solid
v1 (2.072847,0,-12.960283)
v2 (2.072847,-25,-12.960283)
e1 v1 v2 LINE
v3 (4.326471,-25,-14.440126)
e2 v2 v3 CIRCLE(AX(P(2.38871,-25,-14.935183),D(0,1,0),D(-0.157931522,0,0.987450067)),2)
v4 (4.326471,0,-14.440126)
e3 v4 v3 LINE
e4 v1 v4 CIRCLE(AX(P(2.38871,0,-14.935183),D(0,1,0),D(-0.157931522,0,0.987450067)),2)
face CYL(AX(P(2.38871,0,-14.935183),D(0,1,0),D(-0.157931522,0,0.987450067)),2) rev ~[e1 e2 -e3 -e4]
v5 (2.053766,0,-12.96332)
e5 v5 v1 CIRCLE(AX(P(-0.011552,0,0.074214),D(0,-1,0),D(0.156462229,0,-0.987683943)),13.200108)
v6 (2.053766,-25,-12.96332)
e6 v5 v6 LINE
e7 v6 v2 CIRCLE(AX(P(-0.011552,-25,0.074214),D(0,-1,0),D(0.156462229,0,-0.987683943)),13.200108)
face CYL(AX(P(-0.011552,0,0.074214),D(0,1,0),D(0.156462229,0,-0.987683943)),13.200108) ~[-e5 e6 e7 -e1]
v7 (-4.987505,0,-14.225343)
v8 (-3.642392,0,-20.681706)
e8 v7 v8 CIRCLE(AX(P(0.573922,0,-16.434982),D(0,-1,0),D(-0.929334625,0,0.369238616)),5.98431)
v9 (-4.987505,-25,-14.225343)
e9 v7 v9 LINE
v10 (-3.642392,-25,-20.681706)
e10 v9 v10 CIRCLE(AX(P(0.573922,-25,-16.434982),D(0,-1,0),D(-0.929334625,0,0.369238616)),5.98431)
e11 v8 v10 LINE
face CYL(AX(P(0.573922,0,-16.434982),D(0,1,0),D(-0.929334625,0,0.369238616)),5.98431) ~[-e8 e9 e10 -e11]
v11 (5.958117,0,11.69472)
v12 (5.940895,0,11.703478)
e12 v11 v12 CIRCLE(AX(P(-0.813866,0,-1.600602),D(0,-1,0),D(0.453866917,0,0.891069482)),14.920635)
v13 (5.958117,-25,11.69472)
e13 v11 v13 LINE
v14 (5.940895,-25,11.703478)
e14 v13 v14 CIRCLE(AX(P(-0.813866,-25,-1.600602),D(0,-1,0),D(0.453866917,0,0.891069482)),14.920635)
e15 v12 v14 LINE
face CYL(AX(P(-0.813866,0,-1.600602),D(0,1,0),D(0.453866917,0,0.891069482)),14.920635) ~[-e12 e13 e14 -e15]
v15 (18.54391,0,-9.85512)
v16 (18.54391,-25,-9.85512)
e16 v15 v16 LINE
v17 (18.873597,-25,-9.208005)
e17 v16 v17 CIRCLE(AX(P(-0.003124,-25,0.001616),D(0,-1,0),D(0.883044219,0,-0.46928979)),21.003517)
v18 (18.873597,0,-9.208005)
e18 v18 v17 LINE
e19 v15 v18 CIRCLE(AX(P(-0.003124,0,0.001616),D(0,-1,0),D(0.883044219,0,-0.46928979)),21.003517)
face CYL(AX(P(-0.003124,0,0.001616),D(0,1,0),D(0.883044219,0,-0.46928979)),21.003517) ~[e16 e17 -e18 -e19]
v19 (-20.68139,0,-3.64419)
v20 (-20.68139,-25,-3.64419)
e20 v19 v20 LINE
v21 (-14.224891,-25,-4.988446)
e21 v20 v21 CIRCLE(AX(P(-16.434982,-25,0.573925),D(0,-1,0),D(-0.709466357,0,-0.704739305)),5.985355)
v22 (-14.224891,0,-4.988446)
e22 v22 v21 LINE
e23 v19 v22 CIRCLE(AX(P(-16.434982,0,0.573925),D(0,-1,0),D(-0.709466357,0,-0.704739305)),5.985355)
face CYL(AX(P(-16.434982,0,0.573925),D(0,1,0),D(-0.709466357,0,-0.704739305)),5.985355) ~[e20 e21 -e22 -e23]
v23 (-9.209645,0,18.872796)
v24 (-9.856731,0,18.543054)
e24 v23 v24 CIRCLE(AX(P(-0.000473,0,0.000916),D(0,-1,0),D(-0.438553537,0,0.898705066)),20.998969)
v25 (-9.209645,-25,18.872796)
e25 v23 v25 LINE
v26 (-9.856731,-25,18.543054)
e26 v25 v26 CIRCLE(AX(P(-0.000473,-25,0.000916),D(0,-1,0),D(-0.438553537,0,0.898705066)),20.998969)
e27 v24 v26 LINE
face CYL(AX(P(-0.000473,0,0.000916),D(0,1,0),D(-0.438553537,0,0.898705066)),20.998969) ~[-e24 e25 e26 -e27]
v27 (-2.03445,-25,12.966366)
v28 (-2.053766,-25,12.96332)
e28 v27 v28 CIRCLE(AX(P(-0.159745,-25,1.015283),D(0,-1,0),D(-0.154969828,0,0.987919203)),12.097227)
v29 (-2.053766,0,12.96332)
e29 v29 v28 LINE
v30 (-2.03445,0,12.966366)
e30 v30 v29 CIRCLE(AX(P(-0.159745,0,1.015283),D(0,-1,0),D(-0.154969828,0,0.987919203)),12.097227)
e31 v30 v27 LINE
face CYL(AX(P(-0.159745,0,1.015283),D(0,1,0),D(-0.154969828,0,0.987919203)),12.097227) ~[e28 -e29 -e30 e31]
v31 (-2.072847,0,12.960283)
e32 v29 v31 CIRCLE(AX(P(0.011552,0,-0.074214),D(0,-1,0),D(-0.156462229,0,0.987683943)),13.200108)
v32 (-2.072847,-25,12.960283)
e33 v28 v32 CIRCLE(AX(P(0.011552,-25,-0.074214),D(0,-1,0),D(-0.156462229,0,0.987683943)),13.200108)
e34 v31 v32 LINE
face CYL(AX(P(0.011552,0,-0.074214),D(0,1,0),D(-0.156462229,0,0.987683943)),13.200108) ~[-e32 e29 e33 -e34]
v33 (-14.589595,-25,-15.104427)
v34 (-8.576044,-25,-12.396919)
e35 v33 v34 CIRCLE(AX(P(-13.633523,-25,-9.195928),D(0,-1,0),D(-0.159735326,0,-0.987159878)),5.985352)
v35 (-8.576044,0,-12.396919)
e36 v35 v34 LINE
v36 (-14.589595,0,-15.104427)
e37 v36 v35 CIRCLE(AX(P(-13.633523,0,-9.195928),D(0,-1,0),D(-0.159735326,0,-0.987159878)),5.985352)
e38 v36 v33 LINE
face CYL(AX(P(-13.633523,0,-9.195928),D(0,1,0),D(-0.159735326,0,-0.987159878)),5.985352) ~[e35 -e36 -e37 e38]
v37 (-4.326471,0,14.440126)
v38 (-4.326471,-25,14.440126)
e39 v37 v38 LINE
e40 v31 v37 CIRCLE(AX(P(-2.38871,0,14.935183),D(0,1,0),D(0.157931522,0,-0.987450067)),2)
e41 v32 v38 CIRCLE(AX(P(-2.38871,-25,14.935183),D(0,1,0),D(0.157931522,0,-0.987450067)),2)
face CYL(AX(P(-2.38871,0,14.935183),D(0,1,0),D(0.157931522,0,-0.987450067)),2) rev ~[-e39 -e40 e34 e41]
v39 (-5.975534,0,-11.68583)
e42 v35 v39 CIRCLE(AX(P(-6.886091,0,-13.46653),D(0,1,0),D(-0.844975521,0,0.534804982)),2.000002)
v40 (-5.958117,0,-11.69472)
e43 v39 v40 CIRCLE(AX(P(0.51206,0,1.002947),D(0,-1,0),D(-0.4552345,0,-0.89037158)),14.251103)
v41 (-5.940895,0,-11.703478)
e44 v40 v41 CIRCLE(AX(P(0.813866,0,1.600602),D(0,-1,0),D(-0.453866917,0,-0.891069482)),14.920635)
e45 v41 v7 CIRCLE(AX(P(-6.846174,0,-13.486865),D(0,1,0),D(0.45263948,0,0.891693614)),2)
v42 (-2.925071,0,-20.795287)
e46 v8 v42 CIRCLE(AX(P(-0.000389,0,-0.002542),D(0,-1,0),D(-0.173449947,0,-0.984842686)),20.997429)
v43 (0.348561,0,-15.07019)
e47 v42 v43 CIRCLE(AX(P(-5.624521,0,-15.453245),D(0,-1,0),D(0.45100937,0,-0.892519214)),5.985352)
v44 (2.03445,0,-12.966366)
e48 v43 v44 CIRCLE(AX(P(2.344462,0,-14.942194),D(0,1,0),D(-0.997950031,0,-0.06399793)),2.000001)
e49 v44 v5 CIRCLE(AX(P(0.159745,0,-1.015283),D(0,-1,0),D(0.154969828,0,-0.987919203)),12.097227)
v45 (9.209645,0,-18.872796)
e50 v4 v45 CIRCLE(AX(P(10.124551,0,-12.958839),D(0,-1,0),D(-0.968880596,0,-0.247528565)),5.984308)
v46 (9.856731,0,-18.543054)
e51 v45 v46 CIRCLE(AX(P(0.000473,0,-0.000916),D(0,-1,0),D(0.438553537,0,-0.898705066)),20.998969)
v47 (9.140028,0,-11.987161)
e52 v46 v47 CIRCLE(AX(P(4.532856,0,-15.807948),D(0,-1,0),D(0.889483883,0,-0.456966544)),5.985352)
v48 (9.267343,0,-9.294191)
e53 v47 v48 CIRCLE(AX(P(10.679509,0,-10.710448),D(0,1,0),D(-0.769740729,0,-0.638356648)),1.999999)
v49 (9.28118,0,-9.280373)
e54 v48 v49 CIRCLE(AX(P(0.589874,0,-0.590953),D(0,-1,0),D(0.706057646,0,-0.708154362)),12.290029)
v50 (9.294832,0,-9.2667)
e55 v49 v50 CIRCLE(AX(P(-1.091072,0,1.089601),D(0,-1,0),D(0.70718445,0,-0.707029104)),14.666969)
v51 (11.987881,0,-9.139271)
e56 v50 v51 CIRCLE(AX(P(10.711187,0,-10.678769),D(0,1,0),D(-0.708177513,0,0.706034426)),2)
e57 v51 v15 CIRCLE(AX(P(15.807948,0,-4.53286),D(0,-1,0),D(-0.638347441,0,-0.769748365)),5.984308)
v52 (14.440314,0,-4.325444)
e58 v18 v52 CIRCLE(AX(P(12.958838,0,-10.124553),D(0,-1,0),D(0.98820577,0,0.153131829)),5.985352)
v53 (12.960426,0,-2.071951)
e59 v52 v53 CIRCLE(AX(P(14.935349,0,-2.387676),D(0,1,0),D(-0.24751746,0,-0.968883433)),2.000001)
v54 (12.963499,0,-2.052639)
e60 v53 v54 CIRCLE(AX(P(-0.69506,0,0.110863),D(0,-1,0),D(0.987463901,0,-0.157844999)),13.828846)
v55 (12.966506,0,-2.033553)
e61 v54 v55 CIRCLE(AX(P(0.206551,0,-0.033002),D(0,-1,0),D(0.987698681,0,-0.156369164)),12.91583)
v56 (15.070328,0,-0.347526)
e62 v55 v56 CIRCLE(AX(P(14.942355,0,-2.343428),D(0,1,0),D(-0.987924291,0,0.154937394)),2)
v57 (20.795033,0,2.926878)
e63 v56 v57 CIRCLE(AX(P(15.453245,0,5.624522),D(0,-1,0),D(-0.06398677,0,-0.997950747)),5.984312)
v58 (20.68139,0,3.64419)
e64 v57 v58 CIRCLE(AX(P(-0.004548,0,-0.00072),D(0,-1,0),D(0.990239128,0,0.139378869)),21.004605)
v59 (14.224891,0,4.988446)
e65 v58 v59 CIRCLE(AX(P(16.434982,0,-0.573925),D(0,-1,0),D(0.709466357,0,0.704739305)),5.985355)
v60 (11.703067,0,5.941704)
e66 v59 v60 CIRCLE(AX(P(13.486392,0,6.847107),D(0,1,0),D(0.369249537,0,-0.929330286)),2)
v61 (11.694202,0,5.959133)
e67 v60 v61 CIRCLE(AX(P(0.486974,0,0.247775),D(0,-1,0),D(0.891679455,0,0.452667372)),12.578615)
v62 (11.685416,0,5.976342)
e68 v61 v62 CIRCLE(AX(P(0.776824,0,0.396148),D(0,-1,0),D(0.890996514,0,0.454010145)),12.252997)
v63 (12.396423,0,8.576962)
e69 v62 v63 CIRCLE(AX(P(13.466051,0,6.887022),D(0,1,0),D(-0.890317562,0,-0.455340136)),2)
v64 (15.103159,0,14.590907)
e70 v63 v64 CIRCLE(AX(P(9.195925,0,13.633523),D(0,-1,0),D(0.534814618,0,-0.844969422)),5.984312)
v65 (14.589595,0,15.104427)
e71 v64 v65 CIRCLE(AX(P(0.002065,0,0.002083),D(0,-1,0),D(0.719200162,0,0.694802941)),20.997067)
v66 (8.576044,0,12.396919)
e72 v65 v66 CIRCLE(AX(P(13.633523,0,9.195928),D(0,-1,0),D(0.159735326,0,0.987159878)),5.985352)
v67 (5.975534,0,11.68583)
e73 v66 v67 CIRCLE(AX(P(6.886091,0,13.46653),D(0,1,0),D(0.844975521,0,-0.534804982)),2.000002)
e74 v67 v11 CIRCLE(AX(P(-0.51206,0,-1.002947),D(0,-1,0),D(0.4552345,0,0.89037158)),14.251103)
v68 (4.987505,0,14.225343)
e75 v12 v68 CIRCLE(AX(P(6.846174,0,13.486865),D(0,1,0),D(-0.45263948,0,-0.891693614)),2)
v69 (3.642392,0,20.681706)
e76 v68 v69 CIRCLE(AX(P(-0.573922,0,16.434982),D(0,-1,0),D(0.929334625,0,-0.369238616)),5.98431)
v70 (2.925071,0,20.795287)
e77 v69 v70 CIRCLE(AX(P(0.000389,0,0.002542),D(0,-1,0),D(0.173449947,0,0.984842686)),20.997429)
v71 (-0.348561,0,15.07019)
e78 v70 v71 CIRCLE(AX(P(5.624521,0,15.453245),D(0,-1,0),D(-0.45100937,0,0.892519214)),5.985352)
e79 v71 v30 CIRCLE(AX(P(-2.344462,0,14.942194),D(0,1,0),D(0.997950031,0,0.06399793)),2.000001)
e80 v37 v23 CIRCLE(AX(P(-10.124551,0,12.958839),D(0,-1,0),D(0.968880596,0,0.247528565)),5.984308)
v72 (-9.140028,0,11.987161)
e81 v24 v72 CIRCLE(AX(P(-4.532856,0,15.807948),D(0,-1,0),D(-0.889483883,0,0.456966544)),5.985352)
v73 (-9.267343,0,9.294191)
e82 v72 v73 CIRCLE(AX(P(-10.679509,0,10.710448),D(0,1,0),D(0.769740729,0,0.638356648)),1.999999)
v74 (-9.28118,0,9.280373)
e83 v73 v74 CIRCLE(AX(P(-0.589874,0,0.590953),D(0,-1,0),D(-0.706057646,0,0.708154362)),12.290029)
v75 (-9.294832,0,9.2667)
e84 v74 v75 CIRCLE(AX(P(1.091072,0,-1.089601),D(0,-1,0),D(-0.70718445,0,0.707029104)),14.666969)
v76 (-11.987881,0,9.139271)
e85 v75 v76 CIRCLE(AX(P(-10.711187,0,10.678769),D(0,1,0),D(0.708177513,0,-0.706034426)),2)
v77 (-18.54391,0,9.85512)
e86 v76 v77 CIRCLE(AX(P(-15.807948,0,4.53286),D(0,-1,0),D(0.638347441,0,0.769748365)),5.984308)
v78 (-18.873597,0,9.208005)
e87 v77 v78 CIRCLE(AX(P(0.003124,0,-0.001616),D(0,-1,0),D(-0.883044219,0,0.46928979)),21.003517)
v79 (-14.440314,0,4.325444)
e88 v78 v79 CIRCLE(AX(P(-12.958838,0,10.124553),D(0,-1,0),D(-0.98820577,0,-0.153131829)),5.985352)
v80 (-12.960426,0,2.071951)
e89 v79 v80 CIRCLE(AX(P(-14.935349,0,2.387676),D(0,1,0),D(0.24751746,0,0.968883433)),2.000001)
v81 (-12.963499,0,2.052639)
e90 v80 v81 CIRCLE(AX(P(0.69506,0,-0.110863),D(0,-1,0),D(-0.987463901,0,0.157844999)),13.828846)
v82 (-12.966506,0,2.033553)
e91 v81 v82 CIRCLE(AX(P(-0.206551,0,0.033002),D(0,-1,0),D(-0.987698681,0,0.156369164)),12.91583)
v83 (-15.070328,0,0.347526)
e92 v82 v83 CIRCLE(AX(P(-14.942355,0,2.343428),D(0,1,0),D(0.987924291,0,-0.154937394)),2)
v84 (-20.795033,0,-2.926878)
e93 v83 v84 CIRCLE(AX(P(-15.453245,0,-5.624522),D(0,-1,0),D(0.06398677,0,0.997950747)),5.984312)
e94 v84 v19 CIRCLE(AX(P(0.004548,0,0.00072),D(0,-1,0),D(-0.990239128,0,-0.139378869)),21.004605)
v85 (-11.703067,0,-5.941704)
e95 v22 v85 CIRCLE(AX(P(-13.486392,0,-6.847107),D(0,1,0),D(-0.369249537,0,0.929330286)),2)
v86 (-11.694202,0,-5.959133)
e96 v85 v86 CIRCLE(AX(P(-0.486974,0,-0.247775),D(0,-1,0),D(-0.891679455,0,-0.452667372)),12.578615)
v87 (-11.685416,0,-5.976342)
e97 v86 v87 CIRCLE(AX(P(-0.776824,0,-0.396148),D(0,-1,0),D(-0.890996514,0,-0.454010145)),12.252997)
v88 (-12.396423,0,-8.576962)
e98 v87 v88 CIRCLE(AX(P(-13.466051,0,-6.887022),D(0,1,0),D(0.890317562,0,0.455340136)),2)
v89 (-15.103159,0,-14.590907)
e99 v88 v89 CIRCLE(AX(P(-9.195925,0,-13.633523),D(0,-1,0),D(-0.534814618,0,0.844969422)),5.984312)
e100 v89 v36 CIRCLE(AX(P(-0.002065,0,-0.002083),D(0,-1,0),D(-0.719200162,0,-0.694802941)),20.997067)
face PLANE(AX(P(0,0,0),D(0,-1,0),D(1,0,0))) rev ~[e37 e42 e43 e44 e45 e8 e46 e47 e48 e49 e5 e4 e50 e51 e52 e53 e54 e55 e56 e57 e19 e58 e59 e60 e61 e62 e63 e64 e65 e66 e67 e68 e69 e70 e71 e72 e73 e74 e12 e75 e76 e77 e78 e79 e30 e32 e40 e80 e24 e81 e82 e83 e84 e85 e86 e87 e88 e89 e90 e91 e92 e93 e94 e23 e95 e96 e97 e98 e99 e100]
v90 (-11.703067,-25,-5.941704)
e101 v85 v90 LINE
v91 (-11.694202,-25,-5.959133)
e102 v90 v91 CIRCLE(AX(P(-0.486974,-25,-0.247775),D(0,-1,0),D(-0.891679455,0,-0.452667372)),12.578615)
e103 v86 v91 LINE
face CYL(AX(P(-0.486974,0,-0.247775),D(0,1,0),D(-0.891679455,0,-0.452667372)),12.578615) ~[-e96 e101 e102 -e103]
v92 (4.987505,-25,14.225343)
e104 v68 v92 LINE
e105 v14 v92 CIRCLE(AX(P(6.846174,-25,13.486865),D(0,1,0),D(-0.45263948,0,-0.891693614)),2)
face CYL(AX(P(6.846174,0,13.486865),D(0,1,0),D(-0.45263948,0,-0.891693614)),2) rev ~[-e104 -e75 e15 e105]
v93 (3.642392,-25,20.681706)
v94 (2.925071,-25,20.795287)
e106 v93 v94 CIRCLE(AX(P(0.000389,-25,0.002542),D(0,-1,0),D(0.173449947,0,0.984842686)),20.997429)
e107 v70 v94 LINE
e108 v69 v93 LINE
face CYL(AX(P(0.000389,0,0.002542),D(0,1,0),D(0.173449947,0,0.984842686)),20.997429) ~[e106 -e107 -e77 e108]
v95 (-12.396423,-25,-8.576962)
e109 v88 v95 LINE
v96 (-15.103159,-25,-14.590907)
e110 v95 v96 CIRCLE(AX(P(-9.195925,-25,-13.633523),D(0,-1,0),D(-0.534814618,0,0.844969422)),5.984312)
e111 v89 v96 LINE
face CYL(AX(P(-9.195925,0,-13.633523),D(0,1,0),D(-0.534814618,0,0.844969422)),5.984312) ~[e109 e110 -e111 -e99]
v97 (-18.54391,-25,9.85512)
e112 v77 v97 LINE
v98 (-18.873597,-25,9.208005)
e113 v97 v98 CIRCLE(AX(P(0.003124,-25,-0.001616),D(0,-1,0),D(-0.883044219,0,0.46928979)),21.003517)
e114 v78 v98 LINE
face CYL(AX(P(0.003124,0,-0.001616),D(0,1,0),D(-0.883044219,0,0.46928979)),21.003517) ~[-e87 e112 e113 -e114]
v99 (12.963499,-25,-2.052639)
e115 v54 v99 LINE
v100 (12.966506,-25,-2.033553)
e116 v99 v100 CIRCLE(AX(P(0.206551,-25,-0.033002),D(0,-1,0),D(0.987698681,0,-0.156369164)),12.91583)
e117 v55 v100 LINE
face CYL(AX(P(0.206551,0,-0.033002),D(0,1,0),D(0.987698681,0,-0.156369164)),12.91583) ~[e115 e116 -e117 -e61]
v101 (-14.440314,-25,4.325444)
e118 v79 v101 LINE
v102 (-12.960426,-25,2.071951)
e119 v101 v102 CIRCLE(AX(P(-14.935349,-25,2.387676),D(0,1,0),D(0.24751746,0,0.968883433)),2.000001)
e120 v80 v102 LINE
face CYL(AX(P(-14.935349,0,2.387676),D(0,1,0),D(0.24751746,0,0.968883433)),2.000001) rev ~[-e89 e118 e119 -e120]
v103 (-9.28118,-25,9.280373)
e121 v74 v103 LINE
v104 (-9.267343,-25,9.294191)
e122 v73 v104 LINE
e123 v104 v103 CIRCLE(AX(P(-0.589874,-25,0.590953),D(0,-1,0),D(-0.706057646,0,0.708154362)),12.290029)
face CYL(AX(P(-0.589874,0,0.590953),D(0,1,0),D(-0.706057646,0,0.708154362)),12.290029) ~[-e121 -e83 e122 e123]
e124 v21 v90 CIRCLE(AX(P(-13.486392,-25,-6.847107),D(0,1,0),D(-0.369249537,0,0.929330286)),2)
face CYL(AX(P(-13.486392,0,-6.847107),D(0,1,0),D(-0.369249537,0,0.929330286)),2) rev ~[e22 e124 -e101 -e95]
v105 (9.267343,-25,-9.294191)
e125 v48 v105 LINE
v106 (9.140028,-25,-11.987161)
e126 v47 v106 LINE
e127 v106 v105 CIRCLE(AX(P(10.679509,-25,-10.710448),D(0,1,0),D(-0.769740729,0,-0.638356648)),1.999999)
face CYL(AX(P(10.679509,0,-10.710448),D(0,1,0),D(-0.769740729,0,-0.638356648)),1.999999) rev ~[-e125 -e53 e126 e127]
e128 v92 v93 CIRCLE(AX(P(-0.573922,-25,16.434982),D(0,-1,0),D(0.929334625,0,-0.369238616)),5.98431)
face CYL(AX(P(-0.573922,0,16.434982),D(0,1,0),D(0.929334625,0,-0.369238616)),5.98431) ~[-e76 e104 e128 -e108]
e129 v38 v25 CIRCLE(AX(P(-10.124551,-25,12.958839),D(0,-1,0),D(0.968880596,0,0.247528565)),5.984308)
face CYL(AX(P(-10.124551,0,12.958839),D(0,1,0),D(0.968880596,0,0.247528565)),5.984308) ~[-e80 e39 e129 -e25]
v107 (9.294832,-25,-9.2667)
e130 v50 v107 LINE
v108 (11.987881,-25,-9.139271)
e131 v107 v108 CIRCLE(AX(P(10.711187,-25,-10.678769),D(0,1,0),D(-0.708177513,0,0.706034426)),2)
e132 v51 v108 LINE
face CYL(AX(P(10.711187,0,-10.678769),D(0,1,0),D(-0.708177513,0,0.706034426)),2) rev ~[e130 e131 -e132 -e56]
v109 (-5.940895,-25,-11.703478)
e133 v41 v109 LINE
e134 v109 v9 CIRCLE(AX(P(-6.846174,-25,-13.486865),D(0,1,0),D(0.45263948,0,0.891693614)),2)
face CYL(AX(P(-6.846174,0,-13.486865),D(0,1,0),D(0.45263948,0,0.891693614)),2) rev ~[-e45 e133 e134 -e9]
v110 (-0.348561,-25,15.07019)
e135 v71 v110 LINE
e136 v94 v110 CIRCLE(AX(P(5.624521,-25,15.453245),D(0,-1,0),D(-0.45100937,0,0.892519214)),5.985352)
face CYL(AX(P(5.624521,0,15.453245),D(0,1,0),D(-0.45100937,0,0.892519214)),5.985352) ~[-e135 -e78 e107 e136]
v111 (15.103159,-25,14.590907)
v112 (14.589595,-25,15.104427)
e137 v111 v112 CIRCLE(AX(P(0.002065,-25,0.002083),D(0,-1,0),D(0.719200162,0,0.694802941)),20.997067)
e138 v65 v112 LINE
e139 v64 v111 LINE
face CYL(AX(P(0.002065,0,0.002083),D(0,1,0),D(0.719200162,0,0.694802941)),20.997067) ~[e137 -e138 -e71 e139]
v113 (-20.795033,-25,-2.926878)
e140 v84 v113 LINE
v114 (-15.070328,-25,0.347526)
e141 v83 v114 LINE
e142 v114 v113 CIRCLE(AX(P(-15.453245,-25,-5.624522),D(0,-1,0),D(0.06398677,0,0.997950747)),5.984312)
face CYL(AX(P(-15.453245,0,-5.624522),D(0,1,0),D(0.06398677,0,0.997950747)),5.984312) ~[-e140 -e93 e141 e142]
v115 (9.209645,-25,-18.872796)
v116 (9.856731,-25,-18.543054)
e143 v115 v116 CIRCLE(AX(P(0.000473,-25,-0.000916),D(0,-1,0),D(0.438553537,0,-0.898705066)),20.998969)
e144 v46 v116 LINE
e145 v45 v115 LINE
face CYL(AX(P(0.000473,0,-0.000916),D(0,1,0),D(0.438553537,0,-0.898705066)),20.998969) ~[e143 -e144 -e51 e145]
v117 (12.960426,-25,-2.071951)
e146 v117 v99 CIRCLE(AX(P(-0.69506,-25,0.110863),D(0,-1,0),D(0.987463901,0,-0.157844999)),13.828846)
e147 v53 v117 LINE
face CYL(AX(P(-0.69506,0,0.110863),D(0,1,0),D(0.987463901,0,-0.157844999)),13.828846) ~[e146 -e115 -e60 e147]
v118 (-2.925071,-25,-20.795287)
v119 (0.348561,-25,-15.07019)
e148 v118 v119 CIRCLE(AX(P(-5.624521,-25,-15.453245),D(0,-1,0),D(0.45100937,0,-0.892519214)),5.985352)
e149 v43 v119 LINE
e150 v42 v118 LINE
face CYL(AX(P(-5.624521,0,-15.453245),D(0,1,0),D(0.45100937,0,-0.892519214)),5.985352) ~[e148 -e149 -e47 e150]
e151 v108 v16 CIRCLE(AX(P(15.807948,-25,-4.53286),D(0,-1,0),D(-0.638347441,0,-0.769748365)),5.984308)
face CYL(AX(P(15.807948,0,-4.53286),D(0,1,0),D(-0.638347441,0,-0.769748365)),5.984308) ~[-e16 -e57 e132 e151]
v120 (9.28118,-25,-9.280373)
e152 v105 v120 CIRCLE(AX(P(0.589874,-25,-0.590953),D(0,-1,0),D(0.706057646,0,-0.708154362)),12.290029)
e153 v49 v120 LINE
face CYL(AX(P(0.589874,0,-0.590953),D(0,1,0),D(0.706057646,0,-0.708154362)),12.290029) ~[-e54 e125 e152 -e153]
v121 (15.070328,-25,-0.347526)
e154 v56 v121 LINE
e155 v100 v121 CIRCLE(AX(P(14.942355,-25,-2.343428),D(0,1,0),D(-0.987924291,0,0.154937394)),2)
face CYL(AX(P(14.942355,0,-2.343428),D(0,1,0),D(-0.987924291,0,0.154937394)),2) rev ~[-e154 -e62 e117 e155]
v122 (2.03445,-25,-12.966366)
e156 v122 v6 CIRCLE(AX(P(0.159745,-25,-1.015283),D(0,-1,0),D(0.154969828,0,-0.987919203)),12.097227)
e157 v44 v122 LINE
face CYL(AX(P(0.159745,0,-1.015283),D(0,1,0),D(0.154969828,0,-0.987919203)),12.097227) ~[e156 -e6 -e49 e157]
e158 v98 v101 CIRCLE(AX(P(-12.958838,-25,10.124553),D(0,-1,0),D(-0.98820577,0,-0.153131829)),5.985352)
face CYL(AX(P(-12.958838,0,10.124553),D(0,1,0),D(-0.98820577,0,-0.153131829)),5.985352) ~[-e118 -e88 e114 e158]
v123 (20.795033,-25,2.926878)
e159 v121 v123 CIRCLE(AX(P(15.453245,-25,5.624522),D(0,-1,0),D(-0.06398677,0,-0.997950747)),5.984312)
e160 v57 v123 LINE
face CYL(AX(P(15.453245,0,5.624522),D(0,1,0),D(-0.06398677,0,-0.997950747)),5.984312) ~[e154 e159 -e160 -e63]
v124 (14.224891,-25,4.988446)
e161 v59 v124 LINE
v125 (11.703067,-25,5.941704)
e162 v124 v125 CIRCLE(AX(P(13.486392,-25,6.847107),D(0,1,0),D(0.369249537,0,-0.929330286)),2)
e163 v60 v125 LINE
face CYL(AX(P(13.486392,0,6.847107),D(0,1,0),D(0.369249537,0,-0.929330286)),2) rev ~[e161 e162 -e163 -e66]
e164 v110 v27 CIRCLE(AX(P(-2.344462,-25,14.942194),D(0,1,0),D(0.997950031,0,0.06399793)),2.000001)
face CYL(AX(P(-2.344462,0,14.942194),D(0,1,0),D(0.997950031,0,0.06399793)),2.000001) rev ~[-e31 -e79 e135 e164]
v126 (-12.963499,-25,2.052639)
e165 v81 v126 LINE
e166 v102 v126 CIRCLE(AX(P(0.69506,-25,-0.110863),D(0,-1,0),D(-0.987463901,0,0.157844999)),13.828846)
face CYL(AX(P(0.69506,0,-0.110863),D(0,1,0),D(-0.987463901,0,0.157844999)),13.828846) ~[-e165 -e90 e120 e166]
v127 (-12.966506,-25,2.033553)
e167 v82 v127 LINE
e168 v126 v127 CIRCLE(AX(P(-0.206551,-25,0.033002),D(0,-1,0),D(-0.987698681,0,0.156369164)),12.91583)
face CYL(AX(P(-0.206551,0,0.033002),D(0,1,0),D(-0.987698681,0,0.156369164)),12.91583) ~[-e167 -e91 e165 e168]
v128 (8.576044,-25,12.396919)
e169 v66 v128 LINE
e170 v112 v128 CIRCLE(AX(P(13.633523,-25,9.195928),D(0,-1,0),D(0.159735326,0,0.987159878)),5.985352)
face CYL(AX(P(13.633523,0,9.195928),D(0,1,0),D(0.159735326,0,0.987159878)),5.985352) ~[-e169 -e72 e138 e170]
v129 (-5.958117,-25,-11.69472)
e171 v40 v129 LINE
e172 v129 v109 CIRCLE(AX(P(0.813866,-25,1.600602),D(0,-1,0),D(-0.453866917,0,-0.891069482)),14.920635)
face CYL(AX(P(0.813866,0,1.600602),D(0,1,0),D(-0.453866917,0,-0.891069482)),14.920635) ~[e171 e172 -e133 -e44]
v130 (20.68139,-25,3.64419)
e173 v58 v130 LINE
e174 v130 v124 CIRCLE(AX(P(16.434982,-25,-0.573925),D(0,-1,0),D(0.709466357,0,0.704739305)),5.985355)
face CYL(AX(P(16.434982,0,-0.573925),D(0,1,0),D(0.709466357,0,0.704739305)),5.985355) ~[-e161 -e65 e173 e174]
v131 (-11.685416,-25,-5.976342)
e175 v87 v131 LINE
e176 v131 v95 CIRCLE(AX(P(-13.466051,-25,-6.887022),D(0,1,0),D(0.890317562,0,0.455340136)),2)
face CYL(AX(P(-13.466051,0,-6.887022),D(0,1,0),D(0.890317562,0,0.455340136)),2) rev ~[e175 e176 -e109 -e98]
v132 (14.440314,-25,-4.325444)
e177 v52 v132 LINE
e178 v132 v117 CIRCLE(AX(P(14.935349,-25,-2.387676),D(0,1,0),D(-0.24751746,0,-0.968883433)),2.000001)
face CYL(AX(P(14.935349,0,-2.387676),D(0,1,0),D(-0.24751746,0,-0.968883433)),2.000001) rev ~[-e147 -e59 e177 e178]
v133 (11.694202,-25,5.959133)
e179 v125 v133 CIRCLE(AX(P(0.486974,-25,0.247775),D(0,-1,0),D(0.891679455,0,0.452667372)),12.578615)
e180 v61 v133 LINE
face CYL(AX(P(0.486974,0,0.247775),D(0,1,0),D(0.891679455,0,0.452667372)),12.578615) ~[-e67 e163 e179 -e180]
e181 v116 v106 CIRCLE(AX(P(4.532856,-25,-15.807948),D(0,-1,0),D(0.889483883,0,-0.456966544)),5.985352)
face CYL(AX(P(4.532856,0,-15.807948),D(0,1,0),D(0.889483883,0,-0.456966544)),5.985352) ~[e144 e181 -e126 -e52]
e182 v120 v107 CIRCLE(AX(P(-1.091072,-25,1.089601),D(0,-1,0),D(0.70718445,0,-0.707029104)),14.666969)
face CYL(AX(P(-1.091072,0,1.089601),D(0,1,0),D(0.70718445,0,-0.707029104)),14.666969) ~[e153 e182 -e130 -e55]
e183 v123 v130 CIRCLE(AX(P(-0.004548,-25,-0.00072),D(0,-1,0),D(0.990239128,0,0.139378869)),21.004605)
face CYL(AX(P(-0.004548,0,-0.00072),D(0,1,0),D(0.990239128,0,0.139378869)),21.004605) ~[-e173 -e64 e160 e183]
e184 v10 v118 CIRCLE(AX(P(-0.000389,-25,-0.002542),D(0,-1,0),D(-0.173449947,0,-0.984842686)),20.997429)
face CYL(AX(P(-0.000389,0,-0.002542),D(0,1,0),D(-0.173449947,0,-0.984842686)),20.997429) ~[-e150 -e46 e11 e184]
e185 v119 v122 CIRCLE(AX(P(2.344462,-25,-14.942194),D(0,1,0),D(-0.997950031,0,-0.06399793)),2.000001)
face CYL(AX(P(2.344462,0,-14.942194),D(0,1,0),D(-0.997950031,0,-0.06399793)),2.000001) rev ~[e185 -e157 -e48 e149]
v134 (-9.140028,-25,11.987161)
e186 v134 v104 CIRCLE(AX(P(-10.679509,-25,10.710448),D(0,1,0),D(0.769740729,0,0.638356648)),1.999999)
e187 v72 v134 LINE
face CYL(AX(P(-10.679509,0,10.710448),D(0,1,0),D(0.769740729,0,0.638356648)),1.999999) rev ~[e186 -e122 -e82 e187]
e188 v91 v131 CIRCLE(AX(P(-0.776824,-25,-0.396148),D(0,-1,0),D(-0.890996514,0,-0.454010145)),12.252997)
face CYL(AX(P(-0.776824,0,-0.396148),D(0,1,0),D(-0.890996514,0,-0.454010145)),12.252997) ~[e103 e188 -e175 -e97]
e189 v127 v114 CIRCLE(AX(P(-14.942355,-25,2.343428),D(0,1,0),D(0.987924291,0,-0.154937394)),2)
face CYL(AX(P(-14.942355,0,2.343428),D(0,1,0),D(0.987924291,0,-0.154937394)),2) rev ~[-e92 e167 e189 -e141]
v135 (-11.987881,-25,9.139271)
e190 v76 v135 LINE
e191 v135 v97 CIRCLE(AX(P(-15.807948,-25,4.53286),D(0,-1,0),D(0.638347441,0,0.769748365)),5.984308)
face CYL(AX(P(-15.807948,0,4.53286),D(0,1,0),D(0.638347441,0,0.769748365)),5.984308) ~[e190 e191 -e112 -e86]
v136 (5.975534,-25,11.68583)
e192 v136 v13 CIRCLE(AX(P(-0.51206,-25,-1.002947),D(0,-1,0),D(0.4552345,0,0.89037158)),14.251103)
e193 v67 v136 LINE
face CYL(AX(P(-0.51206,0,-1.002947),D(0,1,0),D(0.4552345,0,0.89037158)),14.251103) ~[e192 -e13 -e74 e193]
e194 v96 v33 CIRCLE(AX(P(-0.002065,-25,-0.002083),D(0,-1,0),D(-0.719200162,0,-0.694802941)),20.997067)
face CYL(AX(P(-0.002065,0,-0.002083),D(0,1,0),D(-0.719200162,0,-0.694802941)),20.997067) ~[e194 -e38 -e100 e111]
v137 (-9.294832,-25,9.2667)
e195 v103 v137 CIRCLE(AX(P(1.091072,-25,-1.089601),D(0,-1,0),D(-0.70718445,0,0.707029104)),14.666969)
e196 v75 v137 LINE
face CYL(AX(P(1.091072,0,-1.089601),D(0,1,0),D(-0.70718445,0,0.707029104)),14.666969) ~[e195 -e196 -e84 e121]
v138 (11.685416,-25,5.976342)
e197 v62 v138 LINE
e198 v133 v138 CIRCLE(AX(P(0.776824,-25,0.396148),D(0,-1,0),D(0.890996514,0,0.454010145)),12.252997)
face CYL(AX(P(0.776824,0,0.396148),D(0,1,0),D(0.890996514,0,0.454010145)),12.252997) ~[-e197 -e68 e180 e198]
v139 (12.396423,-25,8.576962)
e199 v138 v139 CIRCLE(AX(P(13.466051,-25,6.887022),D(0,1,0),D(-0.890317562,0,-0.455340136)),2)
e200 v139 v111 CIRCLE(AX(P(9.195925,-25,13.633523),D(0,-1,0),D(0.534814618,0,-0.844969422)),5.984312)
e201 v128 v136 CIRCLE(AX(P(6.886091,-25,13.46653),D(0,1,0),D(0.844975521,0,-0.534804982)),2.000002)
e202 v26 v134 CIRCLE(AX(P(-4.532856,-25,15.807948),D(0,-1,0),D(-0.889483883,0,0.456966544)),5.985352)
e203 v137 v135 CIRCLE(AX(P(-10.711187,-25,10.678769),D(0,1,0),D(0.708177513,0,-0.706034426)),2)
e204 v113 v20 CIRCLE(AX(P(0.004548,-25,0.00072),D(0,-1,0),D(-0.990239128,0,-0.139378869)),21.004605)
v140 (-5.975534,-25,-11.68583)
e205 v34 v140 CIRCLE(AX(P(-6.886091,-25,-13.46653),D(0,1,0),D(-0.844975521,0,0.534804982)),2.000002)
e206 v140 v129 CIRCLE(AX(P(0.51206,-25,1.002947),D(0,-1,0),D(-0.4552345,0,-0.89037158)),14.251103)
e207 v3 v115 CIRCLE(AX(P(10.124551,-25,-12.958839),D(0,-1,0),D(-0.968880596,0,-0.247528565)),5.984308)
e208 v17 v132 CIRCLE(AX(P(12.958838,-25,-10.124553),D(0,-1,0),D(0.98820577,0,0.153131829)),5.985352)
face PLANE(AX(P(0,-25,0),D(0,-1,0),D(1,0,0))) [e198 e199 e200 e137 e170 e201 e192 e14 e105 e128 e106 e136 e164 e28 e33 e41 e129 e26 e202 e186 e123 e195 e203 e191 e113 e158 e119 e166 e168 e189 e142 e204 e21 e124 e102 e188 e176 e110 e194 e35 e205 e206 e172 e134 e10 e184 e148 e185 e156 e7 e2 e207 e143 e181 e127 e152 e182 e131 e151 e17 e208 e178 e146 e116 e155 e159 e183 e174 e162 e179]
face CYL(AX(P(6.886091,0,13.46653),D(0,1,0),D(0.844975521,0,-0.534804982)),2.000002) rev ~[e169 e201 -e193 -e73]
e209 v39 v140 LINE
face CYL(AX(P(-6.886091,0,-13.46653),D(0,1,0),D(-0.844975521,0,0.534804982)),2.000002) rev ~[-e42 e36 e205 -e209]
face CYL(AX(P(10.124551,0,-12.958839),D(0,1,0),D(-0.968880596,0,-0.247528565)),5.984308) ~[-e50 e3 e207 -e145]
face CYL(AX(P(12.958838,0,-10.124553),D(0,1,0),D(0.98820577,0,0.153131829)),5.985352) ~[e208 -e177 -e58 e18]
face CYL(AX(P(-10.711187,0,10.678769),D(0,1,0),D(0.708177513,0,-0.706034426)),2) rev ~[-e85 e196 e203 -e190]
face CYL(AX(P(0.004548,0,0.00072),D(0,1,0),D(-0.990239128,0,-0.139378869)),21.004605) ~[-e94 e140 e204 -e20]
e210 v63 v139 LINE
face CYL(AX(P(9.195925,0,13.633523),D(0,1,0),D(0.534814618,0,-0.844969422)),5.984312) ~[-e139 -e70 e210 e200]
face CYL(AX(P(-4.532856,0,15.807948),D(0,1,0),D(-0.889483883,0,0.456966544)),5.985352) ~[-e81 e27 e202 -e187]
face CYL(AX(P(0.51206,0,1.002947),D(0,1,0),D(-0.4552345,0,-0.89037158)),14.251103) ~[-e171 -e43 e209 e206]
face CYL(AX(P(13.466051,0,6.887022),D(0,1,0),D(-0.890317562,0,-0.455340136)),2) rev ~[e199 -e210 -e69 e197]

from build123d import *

# Parameters (mm, degrees)
F1_DEPTH = 25


with BuildPart() as f1:
    # F0 (on Front) → F1 (new body)
    with BuildSketch(Plane.XZ):
        with BuildLine():
            ThreePointArc((-0.348561, 15.07019), (-0.783748, 13.691524), (-2.03445, 12.966366))
            ThreePointArc((-2.03445, 12.966366), (-2.044108, 12.964847), (-2.053766, 12.96332))
            ThreePointArc((-2.053766, 12.96332), (-2.063307, 12.961805), (-2.072847, 12.960283))
            ThreePointArc((-2.072847, 12.960283), (-3.48649, 13.263394), (-4.326471, 14.440126))
            ThreePointArc((-4.326471, 14.440126), (-6.102339, 17.389838), (-9.209645, 18.872796))
            ThreePointArc((-9.209645, 18.872796), (-9.534613, 18.710723), (-9.856731, 18.543054))
            ThreePointArc((-9.856731, 18.543054), (-10.48276, 15.157493), (-9.140028, 11.987161))
            ThreePointArc((-9.140028, 11.987161), (-8.681741, 10.616), (-9.267343, 9.294191))
            ThreePointArc((-9.267343, 9.294191), (-9.274264, 9.287285), (-9.28118, 9.280373))
            ThreePointArc((-9.28118, 9.280373), (-9.288008, 9.273539), (-9.294832, 9.2667))
            ThreePointArc((-9.294832, 9.2667), (-10.616657, 8.681004), (-11.987881, 9.139271))
            ThreePointArc((-11.987881, 9.139271), (-15.158386, 10.48181), (-18.54391, 9.85512))
            ThreePointArc((-18.54391, 9.85512), (-18.711551, 9.532987), (-18.873597, 9.208005))
            ThreePointArc((-18.873597, 9.208005), (-17.390082, 6.101058), (-14.440314, 4.325444))
            ThreePointArc((-14.440314, 4.325444), (-13.263604, 3.485525), (-12.960426, 2.071951))
            ThreePointArc((-12.960426, 2.071951), (-12.961966, 2.062295), (-12.963499, 2.052639))
            ThreePointArc((-12.963499, 2.052639), (-12.965006, 2.043097), (-12.966506, 2.033553))
            ThreePointArc((-12.966506, 2.033553), (-13.691622, 0.782765), (-15.070328, 0.347526))
            ThreePointArc((-15.070328, 0.347526), (-18.424445, -0.429914), (-20.795033, -2.926878))
            ThreePointArc((-20.795033, -2.926878), (-20.741312, -3.286025), (-20.68139, -3.64419))
            ThreePointArc((-20.68139, -3.64419), (-17.654983, -5.285774), (-14.224891, -4.988446))
            ThreePointArc((-14.224891, -4.988446), (-12.779221, -4.976302), (-11.703067, -5.941704))
            ThreePointArc((-11.703067, -5.941704), (-11.698638, -5.95042), (-11.694202, -5.959133))
            ThreePointArc((-11.694202, -5.959133), (-11.689812, -5.96774), (-11.685416, -5.976342))
            ThreePointArc((-11.685416, -5.976342), (-11.536853, -7.414464), (-12.396423, -8.576962))
            ThreePointArc((-12.396423, -8.576962), (-14.652992, -11.177425), (-15.103159, -14.590907))
            ThreePointArc((-15.103159, -14.590907), (-14.848597, -14.849888), (-14.589595, -15.104427))
            ThreePointArc((-14.589595, -15.104427), (-11.176282, -14.65362), (-8.576044, -12.396919))
            ThreePointArc((-8.576044, -12.396919), (-7.41361, -11.537351), (-5.975534, -11.68583))
            ThreePointArc((-5.975534, -11.68583), (-5.966827, -11.690278), (-5.958117, -11.69472))
            ThreePointArc((-5.958117, -11.69472), (-5.949507, -11.699102), (-5.940895, -11.703478))
            ThreePointArc((-5.940895, -11.703478), (-4.975398, -12.779619), (-4.987505, -14.225343))
            ThreePointArc((-4.987505, -14.225343), (-5.284594, -17.65554), (-3.642392, -20.681706))
            ThreePointArc((-3.642392, -20.681706), (-3.284223, -20.741598), (-2.925071, -20.795287))
            ThreePointArc((-2.925071, -20.795287), (-0.42862, -18.424281), (0.348561, -15.07019))
            ThreePointArc((0.348561, -15.07019), (0.783748, -13.691524), (2.03445, -12.966366))
            ThreePointArc((2.03445, -12.966366), (2.044108, -12.964847), (2.053766, -12.96332))
            ThreePointArc((2.053766, -12.96332), (2.063307, -12.961805), (2.072847, -12.960283))
            ThreePointArc((2.072847, -12.960283), (3.48649, -13.263394), (4.326471, -14.440126))
            ThreePointArc((4.326471, -14.440126), (6.102339, -17.389838), (9.209645, -18.872796))
            ThreePointArc((9.209645, -18.872796), (9.534613, -18.710723), (9.856731, -18.543054))
            ThreePointArc((9.856731, -18.543054), (10.48276, -15.157493), (9.140028, -11.987161))
            ThreePointArc((9.140028, -11.987161), (8.681741, -10.616), (9.267343, -9.294191))
            ThreePointArc((9.267343, -9.294191), (9.274264, -9.287285), (9.28118, -9.280373))
            ThreePointArc((9.28118, -9.280373), (9.288008, -9.273539), (9.294832, -9.2667))
            ThreePointArc((9.294832, -9.2667), (10.616657, -8.681004), (11.987881, -9.139271))
            ThreePointArc((11.987881, -9.139271), (15.158386, -10.48181), (18.54391, -9.85512))
            ThreePointArc((18.54391, -9.85512), (18.711551, -9.532987), (18.873597, -9.208005))
            ThreePointArc((18.873597, -9.208005), (17.390082, -6.101058), (14.440314, -4.325444))
            ThreePointArc((14.440314, -4.325444), (13.263604, -3.485525), (12.960426, -2.071951))
            ThreePointArc((12.960426, -2.071951), (12.961966, -2.062295), (12.963499, -2.052639))
            ThreePointArc((12.963499, -2.052639), (12.965006, -2.043097), (12.966506, -2.033553))
            ThreePointArc((12.966506, -2.033553), (13.691622, -0.782765), (15.070328, -0.347526))
            ThreePointArc((15.070328, -0.347526), (18.424445, 0.429914), (20.795033, 2.926878))
            ThreePointArc((20.795033, 2.926878), (20.741312, 3.286025), (20.68139, 3.64419))
            ThreePointArc((20.68139, 3.64419), (17.654983, 5.285774), (14.224891, 4.988446))
            ThreePointArc((14.224891, 4.988446), (12.779221, 4.976302), (11.703067, 5.941704))
            ThreePointArc((11.703067, 5.941704), (11.698638, 5.95042), (11.694202, 5.959133))
            ThreePointArc((11.694202, 5.959133), (11.689812, 5.96774), (11.685416, 5.976342))
            ThreePointArc((11.685416, 5.976342), (11.536853, 7.414464), (12.396423, 8.576962))
            ThreePointArc((12.396423, 8.576962), (14.652992, 11.177425), (15.103159, 14.590907))
            ThreePointArc((15.103159, 14.590907), (14.848597, 14.849888), (14.589595, 15.104427))
            ThreePointArc((14.589595, 15.104427), (11.176282, 14.65362), (8.576044, 12.396919))
            ThreePointArc((8.576044, 12.396919), (7.41361, 11.537351), (5.975534, 11.68583))
            ThreePointArc((5.975534, 11.68583), (5.966827, 11.690278), (5.958117, 11.69472))
            ThreePointArc((5.958117, 11.69472), (5.949507, 11.699102), (5.940895, 11.703478))
            ThreePointArc((5.940895, 11.703478), (4.975398, 12.779619), (4.987505, 14.225343))
            ThreePointArc((4.987505, 14.225343), (5.284594, 17.65554), (3.642392, 20.681706))
            ThreePointArc((3.642392, 20.681706), (3.284223, 20.741598), (2.925071, 20.795287))
            ThreePointArc((2.925071, 20.795287), (0.42862, 18.424281), (-0.348561, 15.07019))
        make_face()
    extrude(amount=F1_DEPTH)


solid = f1.part
